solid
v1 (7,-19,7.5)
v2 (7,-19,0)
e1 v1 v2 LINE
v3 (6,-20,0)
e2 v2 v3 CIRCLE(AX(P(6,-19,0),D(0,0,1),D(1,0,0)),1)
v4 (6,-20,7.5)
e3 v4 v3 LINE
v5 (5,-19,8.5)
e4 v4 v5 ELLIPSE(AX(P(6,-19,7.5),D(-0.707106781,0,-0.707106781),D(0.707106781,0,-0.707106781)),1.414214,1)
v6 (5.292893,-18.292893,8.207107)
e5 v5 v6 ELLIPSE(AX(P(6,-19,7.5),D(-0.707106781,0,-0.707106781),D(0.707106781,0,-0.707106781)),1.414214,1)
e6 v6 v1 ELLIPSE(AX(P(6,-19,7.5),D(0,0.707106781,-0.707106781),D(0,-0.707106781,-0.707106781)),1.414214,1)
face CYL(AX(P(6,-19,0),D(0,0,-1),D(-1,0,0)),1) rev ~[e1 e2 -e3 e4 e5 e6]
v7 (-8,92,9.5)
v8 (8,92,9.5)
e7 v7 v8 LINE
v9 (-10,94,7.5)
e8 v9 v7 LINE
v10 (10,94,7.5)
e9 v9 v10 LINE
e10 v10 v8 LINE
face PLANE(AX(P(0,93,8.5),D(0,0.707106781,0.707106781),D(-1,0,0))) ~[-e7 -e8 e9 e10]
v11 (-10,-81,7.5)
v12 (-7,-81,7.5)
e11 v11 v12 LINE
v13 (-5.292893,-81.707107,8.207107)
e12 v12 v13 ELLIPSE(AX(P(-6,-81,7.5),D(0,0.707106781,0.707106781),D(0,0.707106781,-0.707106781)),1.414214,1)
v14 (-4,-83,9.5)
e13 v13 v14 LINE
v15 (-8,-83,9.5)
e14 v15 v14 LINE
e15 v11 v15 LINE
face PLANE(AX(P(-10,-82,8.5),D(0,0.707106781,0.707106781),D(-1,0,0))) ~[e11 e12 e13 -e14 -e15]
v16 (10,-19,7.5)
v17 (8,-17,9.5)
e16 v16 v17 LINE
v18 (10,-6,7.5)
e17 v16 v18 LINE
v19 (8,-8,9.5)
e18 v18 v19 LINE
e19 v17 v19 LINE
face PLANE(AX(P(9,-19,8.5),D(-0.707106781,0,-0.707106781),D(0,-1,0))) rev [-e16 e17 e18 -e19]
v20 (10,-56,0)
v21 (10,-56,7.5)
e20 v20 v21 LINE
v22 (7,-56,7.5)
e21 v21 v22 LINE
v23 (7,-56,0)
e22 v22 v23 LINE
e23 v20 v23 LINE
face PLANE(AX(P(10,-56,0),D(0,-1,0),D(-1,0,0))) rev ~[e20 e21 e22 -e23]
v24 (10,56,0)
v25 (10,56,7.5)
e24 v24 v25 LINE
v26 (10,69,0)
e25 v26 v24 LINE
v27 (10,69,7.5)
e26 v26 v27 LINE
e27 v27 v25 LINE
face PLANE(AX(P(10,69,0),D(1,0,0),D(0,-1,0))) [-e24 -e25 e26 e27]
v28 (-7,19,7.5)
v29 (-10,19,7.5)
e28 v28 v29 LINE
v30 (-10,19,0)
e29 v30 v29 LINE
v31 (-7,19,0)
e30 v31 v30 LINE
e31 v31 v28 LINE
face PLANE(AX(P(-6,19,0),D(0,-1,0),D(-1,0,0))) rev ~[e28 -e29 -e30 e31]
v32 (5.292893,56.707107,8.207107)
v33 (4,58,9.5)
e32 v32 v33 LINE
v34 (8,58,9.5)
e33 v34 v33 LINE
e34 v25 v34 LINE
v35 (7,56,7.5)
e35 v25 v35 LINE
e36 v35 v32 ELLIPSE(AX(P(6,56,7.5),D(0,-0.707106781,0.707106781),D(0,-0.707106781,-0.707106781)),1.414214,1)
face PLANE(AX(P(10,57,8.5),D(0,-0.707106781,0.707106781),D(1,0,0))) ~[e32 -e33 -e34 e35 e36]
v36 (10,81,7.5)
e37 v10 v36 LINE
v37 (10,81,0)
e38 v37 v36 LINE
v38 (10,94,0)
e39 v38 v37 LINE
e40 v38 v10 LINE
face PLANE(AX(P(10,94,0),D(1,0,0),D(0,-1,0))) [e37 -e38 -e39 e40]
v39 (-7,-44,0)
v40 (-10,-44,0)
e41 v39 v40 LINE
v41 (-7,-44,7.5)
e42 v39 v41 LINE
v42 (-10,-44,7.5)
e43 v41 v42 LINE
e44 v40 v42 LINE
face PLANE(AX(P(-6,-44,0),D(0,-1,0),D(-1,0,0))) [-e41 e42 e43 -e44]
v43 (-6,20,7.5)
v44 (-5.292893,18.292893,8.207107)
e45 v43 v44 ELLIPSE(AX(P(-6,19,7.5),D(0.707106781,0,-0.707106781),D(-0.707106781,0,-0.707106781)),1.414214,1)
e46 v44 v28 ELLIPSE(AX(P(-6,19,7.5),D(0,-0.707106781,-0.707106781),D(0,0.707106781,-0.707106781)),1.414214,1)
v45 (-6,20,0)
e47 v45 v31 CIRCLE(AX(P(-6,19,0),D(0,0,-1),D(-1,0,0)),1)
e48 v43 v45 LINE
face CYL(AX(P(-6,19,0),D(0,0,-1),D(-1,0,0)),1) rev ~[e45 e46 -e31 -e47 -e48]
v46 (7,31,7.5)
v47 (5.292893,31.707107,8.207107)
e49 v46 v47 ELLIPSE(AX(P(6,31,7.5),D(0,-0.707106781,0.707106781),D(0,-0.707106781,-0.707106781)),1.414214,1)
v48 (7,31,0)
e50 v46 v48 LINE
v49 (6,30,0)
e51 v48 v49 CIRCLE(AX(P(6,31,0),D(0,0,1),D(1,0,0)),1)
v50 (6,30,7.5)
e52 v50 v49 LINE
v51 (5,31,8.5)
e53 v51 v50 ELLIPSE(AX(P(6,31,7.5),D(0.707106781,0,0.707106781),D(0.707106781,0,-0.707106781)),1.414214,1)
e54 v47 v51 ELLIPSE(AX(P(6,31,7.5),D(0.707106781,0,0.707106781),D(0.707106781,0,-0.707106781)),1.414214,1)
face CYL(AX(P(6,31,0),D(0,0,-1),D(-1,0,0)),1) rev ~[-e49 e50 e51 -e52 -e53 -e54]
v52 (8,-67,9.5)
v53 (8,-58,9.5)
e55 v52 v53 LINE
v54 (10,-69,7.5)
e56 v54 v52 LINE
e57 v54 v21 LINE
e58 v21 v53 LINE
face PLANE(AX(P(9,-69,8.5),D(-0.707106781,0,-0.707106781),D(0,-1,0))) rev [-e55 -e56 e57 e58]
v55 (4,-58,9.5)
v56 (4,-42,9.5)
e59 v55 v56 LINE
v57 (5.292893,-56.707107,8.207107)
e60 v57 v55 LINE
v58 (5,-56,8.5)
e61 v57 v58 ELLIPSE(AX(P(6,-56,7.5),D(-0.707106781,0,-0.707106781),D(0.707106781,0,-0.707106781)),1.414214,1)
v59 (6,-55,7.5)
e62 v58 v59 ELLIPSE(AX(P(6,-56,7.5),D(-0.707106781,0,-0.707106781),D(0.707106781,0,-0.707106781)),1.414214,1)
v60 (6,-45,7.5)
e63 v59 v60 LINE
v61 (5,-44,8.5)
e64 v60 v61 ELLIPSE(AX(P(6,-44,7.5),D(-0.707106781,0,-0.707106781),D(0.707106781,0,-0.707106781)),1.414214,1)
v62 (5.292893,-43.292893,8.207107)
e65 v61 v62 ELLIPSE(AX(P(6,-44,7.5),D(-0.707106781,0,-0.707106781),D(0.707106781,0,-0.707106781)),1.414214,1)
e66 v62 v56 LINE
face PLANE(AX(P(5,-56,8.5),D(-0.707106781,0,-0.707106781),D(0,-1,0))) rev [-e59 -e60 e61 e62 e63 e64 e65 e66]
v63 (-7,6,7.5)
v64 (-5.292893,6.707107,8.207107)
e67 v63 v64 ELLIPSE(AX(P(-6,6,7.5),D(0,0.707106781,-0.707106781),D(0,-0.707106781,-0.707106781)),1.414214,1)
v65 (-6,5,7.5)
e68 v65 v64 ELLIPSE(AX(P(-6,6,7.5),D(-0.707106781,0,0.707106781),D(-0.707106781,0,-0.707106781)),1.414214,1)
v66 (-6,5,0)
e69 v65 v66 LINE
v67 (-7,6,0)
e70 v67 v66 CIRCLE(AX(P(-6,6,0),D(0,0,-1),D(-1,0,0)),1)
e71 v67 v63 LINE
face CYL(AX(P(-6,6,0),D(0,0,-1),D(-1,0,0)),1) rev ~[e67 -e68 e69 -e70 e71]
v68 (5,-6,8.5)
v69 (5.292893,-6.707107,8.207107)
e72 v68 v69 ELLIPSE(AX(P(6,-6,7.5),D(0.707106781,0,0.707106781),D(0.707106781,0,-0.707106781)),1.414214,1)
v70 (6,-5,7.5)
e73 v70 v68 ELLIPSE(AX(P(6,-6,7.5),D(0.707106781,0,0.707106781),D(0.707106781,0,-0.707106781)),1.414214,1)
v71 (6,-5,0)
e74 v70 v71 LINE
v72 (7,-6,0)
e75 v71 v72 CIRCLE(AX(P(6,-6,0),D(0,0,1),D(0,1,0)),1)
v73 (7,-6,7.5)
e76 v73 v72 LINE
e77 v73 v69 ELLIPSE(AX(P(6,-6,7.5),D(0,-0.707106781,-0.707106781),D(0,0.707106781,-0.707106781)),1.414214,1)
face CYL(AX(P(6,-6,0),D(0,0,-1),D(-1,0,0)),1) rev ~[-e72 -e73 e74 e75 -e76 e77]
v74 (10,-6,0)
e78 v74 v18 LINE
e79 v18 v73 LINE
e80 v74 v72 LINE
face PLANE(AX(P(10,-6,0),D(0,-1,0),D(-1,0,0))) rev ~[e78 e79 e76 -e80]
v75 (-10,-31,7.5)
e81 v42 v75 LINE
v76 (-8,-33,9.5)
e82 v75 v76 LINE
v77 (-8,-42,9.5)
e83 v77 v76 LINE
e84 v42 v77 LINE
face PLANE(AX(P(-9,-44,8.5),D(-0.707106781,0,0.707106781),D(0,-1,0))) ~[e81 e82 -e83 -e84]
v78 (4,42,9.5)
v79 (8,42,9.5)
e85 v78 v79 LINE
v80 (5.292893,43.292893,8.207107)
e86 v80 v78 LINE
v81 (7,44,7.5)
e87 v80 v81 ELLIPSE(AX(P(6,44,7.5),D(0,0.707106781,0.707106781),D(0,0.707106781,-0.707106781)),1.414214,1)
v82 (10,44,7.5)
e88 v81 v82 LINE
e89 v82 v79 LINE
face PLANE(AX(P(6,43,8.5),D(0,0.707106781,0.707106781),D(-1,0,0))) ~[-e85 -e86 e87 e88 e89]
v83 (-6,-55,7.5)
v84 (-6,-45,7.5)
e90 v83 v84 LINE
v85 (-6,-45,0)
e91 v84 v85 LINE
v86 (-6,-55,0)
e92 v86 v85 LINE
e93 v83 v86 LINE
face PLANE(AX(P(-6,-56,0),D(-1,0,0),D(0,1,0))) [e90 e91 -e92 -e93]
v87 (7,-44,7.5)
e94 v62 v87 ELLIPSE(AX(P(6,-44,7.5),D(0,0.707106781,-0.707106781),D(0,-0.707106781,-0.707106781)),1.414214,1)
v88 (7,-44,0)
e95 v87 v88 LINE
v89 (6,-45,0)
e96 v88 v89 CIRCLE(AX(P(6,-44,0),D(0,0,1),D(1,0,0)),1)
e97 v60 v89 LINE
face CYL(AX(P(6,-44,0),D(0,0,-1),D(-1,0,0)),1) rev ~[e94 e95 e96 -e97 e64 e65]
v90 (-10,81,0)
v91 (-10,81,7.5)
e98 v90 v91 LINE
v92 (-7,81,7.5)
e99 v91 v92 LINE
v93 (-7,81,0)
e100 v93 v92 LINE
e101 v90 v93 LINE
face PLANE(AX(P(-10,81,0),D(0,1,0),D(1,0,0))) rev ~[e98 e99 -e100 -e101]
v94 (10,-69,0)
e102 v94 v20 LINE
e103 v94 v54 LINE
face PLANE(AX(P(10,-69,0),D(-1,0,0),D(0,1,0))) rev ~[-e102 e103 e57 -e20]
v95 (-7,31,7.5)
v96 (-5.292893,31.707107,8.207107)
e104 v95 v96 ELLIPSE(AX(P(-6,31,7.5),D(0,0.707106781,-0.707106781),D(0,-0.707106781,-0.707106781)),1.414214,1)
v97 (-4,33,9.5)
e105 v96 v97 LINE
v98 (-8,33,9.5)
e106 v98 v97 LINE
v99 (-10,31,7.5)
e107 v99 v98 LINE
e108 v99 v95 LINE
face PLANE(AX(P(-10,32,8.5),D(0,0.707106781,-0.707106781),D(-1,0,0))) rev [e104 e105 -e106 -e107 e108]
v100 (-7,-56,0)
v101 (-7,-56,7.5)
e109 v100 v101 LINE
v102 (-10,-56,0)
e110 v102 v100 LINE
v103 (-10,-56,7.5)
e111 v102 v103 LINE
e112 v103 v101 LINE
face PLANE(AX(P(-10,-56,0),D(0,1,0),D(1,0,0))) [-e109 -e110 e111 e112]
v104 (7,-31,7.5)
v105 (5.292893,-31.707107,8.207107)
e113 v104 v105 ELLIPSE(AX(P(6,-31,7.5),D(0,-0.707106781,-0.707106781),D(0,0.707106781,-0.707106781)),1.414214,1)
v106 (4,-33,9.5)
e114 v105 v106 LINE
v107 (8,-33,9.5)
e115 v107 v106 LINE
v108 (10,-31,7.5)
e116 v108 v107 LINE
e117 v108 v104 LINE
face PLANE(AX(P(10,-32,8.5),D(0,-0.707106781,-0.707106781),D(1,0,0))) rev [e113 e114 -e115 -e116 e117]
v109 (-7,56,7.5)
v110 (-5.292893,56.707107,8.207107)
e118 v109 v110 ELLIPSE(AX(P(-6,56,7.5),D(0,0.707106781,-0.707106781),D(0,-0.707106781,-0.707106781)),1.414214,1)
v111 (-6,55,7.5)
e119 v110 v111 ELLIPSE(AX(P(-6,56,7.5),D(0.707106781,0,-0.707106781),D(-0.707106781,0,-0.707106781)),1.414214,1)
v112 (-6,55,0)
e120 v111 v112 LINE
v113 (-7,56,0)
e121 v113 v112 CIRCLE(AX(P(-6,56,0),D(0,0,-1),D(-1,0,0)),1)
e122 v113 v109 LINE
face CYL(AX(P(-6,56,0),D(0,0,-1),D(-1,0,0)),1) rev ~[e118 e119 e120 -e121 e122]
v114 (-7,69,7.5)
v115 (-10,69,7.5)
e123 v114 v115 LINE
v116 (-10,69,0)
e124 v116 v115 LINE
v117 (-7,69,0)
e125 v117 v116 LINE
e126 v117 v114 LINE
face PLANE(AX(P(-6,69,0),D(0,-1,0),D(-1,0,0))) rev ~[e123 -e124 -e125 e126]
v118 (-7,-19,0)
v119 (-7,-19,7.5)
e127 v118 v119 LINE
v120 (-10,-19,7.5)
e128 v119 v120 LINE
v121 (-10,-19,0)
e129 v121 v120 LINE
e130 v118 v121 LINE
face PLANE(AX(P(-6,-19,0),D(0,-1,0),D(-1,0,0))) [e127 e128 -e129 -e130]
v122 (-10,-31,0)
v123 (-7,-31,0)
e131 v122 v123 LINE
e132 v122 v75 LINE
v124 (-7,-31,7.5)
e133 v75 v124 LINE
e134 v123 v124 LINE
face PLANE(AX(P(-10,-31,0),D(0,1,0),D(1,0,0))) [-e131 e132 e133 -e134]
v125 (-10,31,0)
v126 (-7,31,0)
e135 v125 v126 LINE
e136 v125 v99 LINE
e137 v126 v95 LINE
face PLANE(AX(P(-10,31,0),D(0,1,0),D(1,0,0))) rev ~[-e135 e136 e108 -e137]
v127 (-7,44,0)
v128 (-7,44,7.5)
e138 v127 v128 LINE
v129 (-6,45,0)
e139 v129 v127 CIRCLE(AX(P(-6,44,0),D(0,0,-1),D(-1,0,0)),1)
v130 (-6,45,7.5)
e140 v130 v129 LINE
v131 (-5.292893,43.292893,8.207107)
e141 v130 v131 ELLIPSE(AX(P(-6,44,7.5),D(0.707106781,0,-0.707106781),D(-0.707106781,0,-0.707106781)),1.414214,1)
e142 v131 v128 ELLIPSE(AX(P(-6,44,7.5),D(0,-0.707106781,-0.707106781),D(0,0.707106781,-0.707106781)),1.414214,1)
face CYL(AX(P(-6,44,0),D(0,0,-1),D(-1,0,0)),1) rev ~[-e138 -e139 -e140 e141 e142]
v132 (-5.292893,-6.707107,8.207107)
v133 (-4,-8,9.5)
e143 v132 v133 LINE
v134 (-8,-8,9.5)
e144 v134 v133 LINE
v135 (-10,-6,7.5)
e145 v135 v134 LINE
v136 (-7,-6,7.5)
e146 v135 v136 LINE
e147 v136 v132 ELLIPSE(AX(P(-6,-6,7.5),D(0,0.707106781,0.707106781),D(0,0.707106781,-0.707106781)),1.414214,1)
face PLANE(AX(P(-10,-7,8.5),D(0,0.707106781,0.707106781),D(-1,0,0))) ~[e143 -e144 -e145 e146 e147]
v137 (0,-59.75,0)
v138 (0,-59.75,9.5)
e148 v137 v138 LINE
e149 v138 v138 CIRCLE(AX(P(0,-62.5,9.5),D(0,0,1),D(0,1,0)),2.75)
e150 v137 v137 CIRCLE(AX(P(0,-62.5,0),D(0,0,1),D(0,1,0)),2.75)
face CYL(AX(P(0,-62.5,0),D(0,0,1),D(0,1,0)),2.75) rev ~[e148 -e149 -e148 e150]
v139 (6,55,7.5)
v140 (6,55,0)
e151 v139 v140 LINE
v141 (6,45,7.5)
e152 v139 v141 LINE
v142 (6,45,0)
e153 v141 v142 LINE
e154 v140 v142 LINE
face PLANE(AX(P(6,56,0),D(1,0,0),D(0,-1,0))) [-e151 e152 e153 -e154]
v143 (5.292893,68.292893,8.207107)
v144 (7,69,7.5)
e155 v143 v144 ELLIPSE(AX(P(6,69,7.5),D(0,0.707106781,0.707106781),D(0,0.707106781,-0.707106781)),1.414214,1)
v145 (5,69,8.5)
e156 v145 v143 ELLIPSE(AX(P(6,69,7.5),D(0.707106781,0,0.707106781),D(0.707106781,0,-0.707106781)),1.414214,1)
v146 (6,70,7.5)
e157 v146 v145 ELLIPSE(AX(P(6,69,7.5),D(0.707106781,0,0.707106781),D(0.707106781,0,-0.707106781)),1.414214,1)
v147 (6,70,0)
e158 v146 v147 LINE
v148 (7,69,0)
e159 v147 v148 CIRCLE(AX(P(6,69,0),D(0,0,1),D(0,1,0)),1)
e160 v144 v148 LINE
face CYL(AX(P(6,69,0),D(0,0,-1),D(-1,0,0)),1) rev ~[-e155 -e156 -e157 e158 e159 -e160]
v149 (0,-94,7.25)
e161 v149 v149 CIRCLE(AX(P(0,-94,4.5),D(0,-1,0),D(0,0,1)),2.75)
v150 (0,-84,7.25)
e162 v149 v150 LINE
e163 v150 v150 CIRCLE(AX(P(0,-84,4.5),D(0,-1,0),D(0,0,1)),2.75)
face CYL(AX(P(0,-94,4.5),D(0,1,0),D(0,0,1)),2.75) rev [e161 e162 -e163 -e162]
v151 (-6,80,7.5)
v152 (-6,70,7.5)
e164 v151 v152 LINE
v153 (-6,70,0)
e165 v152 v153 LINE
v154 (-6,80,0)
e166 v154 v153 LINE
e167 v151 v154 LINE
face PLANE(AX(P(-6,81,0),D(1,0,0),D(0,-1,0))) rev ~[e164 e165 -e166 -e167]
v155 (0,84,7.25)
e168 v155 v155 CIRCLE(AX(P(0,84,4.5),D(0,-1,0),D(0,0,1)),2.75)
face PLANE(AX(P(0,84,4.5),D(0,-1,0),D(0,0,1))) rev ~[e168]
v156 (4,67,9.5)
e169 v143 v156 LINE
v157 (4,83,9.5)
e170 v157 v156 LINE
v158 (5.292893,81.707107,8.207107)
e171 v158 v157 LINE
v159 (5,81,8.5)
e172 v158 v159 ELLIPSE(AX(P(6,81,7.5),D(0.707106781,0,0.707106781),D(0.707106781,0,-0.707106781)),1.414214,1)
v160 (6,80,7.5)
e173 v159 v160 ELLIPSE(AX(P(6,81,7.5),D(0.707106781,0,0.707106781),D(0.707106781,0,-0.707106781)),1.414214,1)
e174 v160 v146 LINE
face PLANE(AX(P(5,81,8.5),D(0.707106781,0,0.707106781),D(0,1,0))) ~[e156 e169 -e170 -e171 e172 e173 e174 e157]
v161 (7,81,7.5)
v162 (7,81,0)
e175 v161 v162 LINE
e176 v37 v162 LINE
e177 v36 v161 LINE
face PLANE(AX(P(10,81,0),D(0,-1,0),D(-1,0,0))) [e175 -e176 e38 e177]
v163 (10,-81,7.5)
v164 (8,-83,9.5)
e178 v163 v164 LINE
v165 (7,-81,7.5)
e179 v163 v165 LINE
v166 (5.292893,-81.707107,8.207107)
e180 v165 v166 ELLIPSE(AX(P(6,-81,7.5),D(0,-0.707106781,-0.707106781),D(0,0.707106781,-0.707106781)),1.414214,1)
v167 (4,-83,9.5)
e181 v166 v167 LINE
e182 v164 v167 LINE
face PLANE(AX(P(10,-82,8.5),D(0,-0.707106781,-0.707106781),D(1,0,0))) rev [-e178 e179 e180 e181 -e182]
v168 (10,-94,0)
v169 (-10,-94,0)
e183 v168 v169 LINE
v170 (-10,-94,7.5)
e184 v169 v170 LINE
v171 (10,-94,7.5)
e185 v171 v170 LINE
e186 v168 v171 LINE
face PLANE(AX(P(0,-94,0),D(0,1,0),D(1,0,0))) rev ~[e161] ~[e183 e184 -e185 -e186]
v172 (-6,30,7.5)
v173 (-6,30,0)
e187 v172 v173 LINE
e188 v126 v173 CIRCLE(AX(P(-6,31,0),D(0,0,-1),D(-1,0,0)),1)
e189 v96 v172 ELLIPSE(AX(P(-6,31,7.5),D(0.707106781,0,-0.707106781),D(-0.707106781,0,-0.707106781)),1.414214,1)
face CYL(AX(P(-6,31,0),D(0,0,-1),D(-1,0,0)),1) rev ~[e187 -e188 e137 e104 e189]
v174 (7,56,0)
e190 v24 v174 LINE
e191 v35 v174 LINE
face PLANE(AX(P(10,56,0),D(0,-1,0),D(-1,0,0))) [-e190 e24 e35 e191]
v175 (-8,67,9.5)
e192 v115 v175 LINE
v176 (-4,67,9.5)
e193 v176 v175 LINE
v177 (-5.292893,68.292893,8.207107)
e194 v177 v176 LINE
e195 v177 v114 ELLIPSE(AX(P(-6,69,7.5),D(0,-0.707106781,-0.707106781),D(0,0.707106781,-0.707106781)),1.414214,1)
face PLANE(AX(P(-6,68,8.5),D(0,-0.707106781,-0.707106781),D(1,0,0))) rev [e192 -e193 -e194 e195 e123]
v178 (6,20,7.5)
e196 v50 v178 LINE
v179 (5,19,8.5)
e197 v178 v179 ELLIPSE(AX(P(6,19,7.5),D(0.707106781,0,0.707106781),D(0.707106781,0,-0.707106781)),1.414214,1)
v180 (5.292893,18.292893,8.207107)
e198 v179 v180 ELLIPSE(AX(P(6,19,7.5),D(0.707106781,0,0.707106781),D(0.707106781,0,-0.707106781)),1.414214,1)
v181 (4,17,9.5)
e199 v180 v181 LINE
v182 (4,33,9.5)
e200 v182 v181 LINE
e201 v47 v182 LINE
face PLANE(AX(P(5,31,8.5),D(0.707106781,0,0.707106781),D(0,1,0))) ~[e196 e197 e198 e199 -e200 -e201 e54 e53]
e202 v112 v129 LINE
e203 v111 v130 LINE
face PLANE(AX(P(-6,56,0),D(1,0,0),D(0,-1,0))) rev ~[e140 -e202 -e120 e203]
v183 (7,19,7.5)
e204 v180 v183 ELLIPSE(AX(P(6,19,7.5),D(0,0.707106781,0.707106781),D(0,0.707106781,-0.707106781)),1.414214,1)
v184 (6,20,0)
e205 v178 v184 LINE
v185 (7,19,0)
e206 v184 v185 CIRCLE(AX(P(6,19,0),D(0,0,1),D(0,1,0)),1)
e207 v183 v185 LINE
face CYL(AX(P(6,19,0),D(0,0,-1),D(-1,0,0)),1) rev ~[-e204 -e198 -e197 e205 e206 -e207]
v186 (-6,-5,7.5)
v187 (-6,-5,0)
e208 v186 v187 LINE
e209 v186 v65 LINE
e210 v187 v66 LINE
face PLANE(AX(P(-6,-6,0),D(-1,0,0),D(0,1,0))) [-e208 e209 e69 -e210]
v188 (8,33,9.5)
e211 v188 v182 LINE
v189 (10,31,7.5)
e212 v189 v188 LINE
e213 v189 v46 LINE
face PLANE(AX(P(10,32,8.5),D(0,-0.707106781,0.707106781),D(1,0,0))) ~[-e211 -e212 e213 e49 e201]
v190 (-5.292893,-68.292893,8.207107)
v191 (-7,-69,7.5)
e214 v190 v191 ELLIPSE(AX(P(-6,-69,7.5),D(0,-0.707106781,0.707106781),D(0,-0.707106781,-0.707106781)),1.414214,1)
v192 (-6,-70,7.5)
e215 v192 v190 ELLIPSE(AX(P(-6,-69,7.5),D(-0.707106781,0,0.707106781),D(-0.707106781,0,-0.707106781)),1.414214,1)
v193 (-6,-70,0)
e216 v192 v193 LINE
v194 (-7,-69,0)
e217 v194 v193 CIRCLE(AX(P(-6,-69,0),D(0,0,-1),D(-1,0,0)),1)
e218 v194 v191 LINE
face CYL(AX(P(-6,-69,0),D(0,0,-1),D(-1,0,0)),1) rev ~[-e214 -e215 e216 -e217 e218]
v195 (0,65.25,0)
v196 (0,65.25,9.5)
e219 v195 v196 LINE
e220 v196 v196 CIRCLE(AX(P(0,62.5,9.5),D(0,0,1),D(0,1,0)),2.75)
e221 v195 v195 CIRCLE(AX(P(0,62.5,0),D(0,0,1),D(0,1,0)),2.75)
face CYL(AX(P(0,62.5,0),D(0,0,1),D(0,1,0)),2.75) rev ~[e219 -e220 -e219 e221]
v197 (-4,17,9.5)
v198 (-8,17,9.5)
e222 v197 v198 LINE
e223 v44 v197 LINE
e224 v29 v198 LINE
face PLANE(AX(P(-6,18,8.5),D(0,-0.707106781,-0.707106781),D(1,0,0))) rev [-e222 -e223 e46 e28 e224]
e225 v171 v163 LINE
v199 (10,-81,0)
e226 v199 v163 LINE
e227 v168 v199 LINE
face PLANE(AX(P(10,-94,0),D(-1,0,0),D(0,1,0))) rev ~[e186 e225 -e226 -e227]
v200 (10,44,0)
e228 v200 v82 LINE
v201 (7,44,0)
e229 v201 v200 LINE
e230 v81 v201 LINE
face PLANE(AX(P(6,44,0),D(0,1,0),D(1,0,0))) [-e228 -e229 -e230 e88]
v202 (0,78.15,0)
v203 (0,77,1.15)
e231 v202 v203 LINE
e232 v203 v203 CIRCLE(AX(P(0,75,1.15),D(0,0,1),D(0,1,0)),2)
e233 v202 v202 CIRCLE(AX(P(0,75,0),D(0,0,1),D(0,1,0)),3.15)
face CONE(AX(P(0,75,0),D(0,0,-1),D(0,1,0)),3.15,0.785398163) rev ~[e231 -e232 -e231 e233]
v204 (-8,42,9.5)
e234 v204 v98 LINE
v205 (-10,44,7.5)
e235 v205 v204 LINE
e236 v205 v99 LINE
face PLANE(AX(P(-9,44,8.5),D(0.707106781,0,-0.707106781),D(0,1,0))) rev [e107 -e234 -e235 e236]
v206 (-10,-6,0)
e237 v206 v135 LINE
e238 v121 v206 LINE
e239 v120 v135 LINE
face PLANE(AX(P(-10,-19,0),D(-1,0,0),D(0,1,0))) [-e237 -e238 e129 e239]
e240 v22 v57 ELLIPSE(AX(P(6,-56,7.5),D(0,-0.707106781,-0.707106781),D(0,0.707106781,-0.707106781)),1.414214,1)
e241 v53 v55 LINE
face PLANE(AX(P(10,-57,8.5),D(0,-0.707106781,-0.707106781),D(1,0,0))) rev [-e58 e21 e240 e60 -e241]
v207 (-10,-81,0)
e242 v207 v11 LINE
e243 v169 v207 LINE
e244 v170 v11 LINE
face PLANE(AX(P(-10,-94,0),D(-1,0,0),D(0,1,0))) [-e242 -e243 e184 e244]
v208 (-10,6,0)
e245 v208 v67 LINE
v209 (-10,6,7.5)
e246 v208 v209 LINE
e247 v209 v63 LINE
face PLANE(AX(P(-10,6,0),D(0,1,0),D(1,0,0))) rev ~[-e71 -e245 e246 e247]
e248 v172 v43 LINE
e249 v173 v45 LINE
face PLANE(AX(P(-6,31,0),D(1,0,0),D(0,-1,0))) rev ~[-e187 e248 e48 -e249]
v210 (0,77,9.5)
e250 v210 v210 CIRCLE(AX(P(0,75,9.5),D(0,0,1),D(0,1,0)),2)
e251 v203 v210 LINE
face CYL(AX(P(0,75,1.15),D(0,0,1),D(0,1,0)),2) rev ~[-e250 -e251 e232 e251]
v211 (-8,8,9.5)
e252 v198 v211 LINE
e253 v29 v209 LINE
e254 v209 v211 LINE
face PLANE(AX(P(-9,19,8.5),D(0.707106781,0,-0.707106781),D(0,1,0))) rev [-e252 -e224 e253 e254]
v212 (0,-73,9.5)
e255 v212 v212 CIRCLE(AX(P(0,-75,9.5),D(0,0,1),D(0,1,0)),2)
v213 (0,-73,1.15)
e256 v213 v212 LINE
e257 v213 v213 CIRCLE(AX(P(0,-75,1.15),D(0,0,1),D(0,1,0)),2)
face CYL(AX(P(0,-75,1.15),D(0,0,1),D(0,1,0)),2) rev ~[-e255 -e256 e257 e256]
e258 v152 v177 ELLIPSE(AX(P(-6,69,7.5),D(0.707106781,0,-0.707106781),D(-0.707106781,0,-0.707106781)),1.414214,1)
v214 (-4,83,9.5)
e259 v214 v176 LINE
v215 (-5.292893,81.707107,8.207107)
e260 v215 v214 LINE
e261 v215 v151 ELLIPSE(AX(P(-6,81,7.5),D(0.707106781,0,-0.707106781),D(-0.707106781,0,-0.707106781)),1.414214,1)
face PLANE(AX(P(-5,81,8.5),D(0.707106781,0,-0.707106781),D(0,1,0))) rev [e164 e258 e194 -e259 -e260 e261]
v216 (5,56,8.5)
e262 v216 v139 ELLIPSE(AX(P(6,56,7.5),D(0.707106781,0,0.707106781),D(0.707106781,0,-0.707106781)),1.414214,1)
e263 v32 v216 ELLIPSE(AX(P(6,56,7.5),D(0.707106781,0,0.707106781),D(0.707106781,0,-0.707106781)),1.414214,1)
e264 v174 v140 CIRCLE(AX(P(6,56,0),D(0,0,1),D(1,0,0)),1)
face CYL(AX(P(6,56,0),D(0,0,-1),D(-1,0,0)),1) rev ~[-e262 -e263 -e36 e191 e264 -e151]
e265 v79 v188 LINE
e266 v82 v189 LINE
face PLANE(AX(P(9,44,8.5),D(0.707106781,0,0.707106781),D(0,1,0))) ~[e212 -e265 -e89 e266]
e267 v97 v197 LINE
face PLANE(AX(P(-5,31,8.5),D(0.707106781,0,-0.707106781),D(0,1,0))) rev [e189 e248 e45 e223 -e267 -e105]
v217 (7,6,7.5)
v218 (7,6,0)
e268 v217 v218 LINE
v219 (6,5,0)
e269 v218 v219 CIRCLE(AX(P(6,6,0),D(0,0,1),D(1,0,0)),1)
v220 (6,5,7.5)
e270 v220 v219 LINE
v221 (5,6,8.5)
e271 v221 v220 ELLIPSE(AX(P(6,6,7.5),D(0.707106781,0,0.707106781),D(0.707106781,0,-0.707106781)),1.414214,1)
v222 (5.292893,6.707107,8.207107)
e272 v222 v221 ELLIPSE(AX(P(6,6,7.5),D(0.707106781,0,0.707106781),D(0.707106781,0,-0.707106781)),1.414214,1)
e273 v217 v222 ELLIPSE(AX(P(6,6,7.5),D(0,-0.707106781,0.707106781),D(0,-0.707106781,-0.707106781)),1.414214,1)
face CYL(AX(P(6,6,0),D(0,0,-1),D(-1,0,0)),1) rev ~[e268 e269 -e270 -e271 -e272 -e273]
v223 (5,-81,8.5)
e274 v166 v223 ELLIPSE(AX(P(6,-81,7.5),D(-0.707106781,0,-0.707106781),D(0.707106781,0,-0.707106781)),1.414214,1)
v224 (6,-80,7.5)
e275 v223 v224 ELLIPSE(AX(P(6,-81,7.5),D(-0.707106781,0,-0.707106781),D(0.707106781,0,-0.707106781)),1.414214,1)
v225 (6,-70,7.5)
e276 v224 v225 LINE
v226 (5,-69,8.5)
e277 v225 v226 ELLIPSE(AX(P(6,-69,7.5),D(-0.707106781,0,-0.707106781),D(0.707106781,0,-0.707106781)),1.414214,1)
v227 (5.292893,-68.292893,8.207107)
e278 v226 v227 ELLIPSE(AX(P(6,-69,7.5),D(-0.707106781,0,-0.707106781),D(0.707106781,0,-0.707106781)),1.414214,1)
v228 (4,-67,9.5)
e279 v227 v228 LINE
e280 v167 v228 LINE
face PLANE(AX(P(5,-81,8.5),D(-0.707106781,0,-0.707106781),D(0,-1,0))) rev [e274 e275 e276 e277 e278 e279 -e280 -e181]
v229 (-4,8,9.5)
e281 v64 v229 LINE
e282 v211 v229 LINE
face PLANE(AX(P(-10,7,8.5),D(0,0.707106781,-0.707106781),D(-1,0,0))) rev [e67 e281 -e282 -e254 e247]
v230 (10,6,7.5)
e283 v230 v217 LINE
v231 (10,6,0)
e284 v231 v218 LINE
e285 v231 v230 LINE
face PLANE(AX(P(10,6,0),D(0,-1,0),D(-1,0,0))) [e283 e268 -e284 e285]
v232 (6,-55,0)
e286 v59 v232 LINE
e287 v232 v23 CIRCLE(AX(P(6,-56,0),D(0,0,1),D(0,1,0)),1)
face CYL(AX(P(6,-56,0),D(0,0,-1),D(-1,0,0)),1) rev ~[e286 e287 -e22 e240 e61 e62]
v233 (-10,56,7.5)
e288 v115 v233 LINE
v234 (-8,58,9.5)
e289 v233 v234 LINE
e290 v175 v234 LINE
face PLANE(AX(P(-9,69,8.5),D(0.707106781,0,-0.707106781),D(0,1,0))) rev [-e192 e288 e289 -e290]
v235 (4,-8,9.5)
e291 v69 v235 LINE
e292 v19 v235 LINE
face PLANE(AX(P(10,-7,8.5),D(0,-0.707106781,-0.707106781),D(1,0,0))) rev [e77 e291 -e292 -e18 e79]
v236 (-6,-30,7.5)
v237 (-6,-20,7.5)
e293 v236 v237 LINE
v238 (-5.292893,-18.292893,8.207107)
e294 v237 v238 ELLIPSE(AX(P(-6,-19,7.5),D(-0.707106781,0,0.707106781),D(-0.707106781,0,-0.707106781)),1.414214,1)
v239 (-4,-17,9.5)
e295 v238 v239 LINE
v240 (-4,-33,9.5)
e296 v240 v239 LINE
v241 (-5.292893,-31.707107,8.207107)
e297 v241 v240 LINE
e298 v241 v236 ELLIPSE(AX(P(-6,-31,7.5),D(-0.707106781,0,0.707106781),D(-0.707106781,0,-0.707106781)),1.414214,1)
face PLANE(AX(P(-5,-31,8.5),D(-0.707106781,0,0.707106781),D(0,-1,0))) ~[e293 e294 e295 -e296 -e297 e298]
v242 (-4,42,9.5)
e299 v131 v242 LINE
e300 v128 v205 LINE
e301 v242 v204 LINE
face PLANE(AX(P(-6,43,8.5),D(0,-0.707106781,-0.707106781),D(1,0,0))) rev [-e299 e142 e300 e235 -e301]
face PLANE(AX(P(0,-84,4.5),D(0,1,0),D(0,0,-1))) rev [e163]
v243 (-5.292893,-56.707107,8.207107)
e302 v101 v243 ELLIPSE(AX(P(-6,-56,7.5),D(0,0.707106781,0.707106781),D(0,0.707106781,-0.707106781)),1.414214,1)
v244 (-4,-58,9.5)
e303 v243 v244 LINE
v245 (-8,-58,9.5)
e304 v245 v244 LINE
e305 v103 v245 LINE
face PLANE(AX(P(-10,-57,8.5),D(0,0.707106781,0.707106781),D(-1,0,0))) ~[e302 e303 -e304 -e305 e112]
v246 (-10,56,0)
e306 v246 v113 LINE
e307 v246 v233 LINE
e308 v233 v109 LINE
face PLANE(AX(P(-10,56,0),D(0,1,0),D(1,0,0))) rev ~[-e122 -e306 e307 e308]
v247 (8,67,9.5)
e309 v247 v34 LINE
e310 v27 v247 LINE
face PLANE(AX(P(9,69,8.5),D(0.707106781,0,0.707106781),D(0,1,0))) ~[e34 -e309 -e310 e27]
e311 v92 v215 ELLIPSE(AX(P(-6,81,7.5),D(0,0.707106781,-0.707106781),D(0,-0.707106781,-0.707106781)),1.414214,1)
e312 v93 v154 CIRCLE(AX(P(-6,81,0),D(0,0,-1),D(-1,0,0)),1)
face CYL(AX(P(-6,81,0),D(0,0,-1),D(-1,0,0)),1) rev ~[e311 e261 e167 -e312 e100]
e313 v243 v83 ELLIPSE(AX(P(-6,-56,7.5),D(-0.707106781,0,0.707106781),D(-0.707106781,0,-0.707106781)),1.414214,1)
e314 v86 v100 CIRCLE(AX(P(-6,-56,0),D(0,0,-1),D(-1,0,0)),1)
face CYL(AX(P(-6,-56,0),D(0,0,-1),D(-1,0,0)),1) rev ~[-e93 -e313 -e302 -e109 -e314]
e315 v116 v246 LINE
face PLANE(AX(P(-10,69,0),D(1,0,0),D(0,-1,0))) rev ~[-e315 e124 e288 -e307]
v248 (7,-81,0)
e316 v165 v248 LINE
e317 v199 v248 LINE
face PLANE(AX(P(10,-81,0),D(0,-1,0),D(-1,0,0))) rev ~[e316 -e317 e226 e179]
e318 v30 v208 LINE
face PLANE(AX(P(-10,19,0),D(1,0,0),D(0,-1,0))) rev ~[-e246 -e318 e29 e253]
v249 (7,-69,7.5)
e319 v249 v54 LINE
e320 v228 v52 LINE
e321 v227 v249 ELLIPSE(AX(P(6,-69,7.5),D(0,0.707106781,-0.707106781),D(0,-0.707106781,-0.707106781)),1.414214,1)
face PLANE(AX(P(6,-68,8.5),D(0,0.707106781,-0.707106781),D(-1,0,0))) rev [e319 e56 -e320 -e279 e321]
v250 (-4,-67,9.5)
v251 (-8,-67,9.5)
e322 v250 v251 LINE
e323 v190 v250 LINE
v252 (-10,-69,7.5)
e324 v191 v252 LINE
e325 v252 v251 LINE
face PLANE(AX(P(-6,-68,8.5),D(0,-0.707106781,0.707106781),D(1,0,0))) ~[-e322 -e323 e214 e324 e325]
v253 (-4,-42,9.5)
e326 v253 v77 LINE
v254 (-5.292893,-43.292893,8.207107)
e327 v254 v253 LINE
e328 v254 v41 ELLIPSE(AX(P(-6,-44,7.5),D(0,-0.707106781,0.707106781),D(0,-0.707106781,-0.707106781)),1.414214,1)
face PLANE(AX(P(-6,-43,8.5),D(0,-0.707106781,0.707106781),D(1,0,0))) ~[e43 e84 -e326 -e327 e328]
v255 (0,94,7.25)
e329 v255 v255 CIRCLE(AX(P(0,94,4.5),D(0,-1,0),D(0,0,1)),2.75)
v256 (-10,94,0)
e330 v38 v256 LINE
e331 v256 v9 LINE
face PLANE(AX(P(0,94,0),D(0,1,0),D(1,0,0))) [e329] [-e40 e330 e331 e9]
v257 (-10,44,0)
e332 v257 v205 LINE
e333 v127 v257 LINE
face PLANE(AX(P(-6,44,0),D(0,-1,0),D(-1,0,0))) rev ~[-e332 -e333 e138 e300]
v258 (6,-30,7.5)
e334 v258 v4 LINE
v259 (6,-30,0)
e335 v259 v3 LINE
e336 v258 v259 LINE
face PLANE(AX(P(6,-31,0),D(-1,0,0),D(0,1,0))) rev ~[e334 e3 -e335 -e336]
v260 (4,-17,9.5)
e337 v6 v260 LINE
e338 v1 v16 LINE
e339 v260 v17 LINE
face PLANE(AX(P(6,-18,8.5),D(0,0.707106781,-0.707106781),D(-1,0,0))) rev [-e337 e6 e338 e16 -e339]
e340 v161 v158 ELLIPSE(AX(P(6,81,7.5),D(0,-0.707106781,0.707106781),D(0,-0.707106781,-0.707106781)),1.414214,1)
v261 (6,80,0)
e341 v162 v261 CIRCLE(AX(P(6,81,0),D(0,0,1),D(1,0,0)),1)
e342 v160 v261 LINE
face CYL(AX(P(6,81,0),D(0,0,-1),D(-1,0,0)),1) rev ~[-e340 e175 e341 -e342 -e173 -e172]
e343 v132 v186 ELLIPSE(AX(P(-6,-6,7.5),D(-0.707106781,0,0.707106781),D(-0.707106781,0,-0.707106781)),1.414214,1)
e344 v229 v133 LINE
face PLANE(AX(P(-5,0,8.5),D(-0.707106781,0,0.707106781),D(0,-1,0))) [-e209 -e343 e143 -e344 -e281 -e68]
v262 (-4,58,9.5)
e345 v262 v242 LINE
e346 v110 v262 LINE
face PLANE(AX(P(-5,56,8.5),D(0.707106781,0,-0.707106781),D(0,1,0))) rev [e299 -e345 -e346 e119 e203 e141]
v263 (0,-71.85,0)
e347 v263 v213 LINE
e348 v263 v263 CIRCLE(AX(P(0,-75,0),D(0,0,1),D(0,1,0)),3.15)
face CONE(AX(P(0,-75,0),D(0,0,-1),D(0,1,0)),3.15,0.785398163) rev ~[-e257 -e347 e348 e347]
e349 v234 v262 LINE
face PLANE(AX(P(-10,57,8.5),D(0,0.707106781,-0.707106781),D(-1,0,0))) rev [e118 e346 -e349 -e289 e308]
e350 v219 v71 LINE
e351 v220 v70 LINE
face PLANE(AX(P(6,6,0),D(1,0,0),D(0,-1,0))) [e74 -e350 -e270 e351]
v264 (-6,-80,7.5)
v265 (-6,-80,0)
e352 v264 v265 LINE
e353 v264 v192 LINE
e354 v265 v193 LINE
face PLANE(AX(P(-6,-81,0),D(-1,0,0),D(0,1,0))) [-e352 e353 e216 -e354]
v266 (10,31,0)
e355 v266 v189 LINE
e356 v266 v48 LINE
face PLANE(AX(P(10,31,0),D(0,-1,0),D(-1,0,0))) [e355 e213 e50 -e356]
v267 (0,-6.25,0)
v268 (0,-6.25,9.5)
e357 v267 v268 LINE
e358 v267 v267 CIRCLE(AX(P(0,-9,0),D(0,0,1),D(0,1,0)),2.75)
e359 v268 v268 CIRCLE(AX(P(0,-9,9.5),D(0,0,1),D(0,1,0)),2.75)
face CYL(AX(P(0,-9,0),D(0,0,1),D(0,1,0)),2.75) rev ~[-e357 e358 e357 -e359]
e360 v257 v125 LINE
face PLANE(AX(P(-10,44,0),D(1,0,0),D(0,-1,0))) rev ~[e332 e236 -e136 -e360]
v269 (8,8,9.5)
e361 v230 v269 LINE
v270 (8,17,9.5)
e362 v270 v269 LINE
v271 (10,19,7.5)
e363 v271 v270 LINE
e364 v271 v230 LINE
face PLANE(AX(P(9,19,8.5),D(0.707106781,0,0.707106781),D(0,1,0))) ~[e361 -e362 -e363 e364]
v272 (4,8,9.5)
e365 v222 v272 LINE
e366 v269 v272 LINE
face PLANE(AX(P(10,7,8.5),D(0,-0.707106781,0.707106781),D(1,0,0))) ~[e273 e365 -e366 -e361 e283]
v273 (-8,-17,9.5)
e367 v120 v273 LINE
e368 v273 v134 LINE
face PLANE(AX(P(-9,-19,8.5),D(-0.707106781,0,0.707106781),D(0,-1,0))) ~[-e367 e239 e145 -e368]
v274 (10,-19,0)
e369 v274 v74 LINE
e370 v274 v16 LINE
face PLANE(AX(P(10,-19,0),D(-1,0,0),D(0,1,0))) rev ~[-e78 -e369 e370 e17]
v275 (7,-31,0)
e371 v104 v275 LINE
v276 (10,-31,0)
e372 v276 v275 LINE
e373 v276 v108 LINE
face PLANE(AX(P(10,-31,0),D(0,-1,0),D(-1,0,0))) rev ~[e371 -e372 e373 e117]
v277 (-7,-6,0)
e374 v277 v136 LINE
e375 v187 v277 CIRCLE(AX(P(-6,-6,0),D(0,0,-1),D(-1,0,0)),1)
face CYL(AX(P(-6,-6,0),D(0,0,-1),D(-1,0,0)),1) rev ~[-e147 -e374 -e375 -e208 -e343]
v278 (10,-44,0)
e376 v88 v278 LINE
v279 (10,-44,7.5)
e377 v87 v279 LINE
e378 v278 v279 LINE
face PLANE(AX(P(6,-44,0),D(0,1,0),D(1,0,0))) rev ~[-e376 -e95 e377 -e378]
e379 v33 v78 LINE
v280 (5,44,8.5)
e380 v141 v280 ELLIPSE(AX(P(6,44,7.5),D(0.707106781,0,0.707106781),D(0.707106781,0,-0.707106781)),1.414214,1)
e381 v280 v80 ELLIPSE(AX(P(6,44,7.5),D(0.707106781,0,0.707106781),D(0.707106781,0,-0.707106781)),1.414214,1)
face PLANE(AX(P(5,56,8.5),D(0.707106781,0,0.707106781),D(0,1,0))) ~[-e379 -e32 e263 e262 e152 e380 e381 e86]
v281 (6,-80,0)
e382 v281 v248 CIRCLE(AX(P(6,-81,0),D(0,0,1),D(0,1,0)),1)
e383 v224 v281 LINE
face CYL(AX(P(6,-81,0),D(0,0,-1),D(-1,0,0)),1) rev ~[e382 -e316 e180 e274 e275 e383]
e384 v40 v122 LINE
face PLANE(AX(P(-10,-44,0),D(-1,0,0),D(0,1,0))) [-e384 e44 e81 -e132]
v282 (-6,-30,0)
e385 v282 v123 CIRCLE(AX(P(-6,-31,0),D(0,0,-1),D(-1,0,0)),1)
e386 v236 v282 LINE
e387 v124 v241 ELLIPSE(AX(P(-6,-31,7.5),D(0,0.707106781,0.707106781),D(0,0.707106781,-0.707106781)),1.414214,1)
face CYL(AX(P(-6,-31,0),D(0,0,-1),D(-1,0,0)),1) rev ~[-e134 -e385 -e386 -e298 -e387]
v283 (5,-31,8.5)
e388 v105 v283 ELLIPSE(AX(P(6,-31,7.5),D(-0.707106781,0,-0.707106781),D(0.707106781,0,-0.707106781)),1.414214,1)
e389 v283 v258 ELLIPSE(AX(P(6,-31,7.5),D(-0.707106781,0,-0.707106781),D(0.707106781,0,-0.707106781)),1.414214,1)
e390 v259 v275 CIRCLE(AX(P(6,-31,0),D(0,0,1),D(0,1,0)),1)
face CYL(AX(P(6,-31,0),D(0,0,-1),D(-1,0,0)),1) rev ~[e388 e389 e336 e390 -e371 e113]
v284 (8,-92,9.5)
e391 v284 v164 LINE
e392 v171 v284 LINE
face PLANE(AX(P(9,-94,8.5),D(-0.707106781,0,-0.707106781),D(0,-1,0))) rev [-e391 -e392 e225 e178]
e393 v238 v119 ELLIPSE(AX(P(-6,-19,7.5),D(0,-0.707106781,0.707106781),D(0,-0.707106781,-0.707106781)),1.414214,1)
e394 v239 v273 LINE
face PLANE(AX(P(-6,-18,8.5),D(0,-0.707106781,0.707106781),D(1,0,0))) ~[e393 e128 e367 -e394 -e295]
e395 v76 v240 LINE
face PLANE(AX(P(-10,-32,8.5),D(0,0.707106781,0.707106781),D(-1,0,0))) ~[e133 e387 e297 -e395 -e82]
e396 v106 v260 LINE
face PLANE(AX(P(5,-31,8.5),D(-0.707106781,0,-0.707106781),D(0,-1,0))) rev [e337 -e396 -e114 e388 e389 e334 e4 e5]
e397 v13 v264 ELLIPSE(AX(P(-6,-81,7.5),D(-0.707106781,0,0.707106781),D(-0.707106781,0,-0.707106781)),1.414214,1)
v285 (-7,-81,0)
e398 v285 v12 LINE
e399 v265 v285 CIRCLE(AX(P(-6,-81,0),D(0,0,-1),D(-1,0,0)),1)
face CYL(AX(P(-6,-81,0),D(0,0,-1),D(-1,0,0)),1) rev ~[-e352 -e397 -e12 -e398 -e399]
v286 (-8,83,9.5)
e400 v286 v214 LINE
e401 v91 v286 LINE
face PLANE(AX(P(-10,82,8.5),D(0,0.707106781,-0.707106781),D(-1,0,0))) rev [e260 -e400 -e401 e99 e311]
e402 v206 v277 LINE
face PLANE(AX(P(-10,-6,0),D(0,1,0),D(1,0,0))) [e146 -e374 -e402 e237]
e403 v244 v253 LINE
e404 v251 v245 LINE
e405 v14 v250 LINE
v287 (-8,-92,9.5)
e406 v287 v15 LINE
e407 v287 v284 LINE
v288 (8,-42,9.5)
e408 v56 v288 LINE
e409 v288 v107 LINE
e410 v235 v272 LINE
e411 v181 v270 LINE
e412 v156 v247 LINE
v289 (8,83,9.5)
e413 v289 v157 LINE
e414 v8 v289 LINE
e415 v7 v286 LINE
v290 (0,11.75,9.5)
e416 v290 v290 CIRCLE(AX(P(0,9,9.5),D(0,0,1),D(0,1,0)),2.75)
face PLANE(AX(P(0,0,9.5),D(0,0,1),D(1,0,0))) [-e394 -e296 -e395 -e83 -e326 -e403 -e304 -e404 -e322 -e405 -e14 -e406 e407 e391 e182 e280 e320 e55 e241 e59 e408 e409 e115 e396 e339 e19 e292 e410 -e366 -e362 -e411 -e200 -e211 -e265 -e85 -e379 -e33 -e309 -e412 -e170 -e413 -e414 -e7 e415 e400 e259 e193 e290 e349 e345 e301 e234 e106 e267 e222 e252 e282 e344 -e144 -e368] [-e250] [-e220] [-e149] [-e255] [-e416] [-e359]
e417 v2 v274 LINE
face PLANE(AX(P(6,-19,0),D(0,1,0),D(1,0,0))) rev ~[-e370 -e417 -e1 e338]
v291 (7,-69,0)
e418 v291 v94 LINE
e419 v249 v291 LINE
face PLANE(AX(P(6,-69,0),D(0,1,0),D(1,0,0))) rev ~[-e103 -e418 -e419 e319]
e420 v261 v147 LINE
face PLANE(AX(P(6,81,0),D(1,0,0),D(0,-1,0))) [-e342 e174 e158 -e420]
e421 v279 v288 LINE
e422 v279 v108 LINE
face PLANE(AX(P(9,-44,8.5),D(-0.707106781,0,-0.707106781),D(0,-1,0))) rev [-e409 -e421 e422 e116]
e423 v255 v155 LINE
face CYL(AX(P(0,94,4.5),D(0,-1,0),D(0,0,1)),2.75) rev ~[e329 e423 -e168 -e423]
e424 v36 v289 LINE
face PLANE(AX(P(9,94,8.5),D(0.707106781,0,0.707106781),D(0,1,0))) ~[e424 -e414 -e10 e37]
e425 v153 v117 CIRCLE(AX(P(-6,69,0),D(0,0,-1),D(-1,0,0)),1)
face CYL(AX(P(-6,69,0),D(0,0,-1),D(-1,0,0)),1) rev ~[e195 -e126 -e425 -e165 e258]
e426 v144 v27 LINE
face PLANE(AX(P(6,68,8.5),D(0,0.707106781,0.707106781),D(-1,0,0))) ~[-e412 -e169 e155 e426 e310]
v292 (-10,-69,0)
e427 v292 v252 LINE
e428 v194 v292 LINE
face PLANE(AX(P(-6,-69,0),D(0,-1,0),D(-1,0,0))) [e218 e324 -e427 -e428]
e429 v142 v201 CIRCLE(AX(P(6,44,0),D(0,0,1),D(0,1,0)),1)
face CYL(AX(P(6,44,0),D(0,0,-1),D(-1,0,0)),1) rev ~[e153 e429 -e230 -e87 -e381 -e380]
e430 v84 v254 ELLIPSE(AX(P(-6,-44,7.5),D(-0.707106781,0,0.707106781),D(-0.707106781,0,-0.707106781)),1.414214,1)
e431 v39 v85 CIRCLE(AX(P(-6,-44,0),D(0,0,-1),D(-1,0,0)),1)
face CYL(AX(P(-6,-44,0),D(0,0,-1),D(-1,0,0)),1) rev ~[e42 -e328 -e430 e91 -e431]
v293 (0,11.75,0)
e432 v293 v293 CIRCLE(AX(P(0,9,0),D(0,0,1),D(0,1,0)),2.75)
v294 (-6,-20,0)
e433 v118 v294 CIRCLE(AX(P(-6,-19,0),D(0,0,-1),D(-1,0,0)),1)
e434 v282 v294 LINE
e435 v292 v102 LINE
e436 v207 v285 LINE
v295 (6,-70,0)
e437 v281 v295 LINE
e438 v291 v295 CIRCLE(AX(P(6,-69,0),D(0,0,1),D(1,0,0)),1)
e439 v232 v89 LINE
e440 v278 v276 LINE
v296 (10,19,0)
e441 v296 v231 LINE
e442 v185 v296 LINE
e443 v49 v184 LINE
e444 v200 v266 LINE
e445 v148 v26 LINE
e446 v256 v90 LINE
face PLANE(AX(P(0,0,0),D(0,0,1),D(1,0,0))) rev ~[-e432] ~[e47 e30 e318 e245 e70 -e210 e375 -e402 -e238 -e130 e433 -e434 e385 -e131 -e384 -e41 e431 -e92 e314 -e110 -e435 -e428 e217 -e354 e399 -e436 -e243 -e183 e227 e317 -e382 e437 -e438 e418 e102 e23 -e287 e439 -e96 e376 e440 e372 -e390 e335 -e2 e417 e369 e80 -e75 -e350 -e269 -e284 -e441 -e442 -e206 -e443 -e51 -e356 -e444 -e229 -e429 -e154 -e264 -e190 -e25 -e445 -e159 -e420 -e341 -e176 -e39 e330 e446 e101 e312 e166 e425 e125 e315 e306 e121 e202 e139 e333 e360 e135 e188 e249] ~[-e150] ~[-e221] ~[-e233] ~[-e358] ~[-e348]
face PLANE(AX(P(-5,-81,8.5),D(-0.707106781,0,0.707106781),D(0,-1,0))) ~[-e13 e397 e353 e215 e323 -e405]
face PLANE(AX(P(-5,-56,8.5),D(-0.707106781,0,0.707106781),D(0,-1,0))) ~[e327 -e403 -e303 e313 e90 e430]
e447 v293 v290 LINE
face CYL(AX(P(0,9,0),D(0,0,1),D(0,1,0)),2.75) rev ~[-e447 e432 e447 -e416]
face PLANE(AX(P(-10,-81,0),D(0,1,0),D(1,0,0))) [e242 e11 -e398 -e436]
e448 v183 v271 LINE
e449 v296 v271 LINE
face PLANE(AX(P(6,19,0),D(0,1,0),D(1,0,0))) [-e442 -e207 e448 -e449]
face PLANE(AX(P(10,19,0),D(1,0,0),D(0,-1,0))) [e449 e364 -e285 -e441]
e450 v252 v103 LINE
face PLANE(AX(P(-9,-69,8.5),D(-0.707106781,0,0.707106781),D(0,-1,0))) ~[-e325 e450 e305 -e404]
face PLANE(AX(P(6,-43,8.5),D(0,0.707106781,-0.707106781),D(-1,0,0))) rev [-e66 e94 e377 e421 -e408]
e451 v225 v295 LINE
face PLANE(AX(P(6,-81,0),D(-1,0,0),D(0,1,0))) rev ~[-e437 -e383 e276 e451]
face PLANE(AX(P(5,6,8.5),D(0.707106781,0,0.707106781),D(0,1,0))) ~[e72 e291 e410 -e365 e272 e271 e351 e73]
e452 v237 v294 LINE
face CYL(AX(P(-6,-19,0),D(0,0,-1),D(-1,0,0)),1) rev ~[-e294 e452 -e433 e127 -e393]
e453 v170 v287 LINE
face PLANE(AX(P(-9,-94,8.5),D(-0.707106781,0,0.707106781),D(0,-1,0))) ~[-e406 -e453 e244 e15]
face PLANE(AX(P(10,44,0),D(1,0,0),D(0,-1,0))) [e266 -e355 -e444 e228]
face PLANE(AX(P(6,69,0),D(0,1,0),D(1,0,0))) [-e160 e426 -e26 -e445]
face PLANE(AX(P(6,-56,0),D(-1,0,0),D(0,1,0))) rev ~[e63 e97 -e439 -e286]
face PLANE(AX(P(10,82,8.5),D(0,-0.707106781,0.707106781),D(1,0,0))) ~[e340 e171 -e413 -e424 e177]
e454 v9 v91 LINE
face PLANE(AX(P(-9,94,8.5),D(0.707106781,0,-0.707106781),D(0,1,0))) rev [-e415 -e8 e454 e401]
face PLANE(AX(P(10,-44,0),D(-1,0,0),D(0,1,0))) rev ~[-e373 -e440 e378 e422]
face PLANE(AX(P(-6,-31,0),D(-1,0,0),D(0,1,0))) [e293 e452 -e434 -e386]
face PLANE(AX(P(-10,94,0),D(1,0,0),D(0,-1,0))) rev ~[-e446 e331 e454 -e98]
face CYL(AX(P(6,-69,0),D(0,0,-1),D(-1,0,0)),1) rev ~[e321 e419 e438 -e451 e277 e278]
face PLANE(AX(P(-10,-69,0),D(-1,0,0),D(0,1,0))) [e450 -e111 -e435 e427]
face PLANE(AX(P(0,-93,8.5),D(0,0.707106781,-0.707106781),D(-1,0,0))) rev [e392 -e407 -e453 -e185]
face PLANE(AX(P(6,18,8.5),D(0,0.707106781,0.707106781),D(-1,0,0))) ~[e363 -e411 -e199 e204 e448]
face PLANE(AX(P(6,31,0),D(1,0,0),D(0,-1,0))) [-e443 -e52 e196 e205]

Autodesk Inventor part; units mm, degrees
ref_plane "YZ Plane" through (0, 0, 0) normal (1, 0, 0) x (0, 1, 0)
ref_plane "XZ Plane" through (0, 0, 0) normal (0, 1, 0) x (-1, 0, 0)
ref_plane "XY Plane" through (0, 0, 0) normal (0, 0, 1) x (1, 0, 0)
sketch "Sketch1" plane through (0, 0, 0) normal (0, 0, 1) x (1, 0, 0)
  line L0 (0, 94) -> (10, 94)
  line L1 (10, 94) -> (10, 81)
  line L2 (10, 81) -> (6, 81)
  line L3 (6, 81) -> (6, 69)
  line L4 (6, 69) -> (10, 69)
  line L5 (10, 69) -> (10, 56)
  line L6 (10, 56) -> (6, 56)
  line L7 (6, 56) -> (6, 44)
  line L8 (6, 44) -> (10, 44)
  line L9 (10, 44) -> (10, 31)
  line L10 (10, 31) -> (6, 31)
  line L11 (6, 31) -> (6, 19)
  line L12 (6, 19) -> (10, 19)
  line L13 (10, 19) -> (10, 6)
  line L14 (10, 6) -> (6, 6)
  line L15 (6, 6) -> (6, 0)
  line L16 (0, 0) -> (0, 65.9305) construction
  line L17 (0, 0) -> (38.6364, 0) construction
  line L18 (0, 94) -> (-10, 94)
  line L19 (-10, 94) -> (-10, 81)
  line L20 (-10, 81) -> (-6, 81)
  line L21 (-6, 81) -> (-6, 69)
  line L22 (-6, 69) -> (-10, 69)
  line L23 (-10, 69) -> (-10, 56)
  line L24 (-10, 56) -> (-6, 56)
  line L25 (-6, 56) -> (-6, 44)
  line L26 (-6, 44) -> (-10, 44)
  line L27 (-10, 44) -> (-10, 31)
  line L28 (-10, 31) -> (-6, 31)
  line L29 (-6, 31) -> (-6, 19)
  line L30 (-6, 19) -> (-10, 19)
  line L31 (-10, 19) -> (-10, 6)
  line L32 (-10, 6) -> (-6, 6)
  line L33 (-6, 6) -> (-6, 0)
  line L34 (0, 0) -> (-38.6364, 0) construction
  line L35 (0, -94) -> (10, -94)
  line L36 (10, -94) -> (10, -81)
  line L37 (10, -81) -> (6, -81)
  line L38 (6, -81) -> (6, -69)
  line L39 (6, -69) -> (10, -69)
  line L40 (10, -69) -> (10, -56)
  line L41 (10, -56) -> (6, -56)
  line L42 (6, -56) -> (6, -44)
  line L43 (6, -44) -> (10, -44)
  line L44 (10, -44) -> (10, -31)
  line L45 (10, -31) -> (6, -31)
  line L46 (6, -31) -> (6, -19)
  line L47 (6, -19) -> (10, -19)
  line L48 (10, -19) -> (10, -6)
  line L49 (10, -6) -> (6, -6)
  line L50 (6, -6) -> (6, 0)
  line L51 (0, 0) -> (0, -65.9305) construction
  line L52 (0, -94) -> (-10, -94)
  line L53 (-10, -94) -> (-10, -81)
  line L54 (-6, -69) -> (-10, -69)
  line L55 (-10, -81) -> (-6, -81)
  line L56 (-6, -81) -> (-6, -69)
  line L57 (-10, -69) -> (-10, -56)
  line L58 (-10, -56) -> (-6, -56)
  line L59 (-6, -56) -> (-6, -44)
  line L60 (-6, -44) -> (-10, -44)
  line L61 (-10, -44) -> (-10, -31)
  line L62 (-10, -31) -> (-6, -31)
  line L63 (-6, -31) -> (-6, -19)
  line L64 (-6, -19) -> (-10, -19)
  line L65 (-10, -19) -> (-10, -6)
  line L66 (-10, -6) -> (-6, -6)
  line L67 (-6, -6) -> (-6, 0)
  point P0 (6, 75)
  point P1 (5, 94)
  point P2 (-6, 75)
  point P3 (-5, 94)
  point P4 (6, -75)
  point P5 (5, -94)
  point P6 (-6, -75)
  point P7 (-5, -94)
  dimension "d0" = 10
  dimension "d1" = 13
  dimension "d2" = 12
  dimension "d3" = 6
  dimension "d4" = 6
extrude "Extrusion1" add sketch "Sketch1" along normal blind 9.5
chamfer "Chamfer1" distance 2 angle 45 60 edges at (-10, 87.5, 9.5) (10, 87.5, 9.5) (-8, 81, 9.5) (8, 81, 9.5) (6, 75, 9.5) (-6, 75, 9.5) (-8, 69, 9.5) (-10, 62.5, 9.5) (8, 69, 9.5) (10, 62.5, 9.5) (8, 56, 9.5) (-8, 56, 9.5) (6, 50, 9.5) (-6, 50, 9.5) (-8, 44, 9.5) (8, 44, 9.5) (10, 37.5, 9.5) (-10, 37.5, 9.5) (-8, 31, 9.5) (8, 31, 9.5) (6, 25, 9.5) (-6, 25, 9.5) (-8, 19, 9.5) (8, 19, 9.5) (10, 12.5, 9.5) (-10, 12.5, 9.5) (8, 6, 9.5) (-8, 6, 9.5) (-6, 3, 9.5) (6, 3, 9.5) (8, -6, 9.5) (-8, -6, 9.5) (-10, -12.5, 9.5) (10, -12.5, 9.5) (8, -19, 9.5) (-8, -19, 9.5) (-6, -25, 9.5) (6, -25, 9.5) (8, -31, 9.5) (-8, -31, 9.5) (-10, -37.5, 9.5) (10, -37.5, 9.5) (-8, -44, 9.5) (8, -44, 9.5) (6, -50, 9.5) (-6, -50, 9.5) (-8, -56, 9.5) (8, -56, 9.5) (10, -62.5, 9.5) (-10, -62.5, 9.5) (8, -69, 9.5) (-8, -69, 9.5) (-6, -75, 9.5) (6, -75, 9.5) (8, -81, 9.5) (-8, -81, 9.5) (-10, -87.5, 9.5) (10, -87.5, 9.5) (5, -94, 9.5) (5, 94, 9.5)
sketch "Sketch2" plane through (-10, 94, 0) normal (0, 1, 0) x (1, 0, 0)
  line L0 (20, 0) -> (0, 0) projected
  line L1 (10, 0) -> (10, -4.5) construction
  line L2 (2, -9.5) -> (18, -9.5) projected
  dimension "d19" = 5
hole "Hole1" at (0, 94, 4.5) direction (0, -1, 0) diameter 5.5 depth 10 clearance for "Socket Head Cap Screw DIN EN ISO 4762" size "M5" standard "DIN"
mirror "Mirror1" about plane through (0, 0, 0) normal (0, 1, 0) of "Hole1"
sketch "Sketch3" plane through (0, 0, 0) normal (0, 0, -1) x (-1, 0, 0)
  line L0 (-10, 94) -> (10, 94) projected
  line L1 (10, -94) -> (-10, -94) projected
  point P0 (0, 75)
  point P1 (0, -75)
  point P2 (0, -94)
  point P3 (0, 94)
  dimension "d92" = 19
  dimension "d93" = 19
hole "Hole2" at (0, 75, 0) at (0, -75, 0) direction (0, 0, 1) diameter 4 end through all countersink diameter 6.3 countersink angle 90
sketch "Sketch4" plane through (0, 0, 0) normal (0, 0, -1) x (-1, 0, 0)
  line L0 (0, 0) -> (0, -9) construction
  line L1 (15.0532, 0) -> (-13.6223, 0) construction
  line L2 (10, -6) -> (10, -19) projected
  line L3 (10, -56) -> (10, -69) projected
  point P0 (0, -62.5)
  point P1 (0, 9)
  point P2 (0, 62.5)
  point P3 (10, -12.5)
  point P4 (10, -62.5)
  dimension "d83" = 0
  dimension "d91" = 9
hole "Hole3" at (0, -9, 0) at (0, -62.5, 0) at (0, 9, 0) at (0, 62.5, 0) direction (0, 0, 1) diameter 5.5 end through all clearance for "Slotted Cheese Head Screw DIN 84" size "M5" standard "DIN"
sketch "Sketch6" plane through (0, 0, 0) normal (0, 0, -1) x (-1, 0, 0)
  circle A0 centre (6, 6) radius 1
  line L0 (0, 0) -> (11.6098, 0) construction
  line L1 (0, 0) -> (0, -13.3331) construction
  circle A1 centre (6, 19) radius 1
  circle A2 centre (6, 31) radius 1
  circle A3 centre (6, 44) radius 1
  circle A4 centre (6, 56) radius 1
  circle A5 centre (6, 69) radius 1
  circle A6 centre (6, 81) radius 1
  circle A7 centre (6, -6) radius 1
  circle A8 centre (6, -19) radius 1
  circle A9 centre (6, -31) radius 1
  circle A10 centre (6, -44) radius 1
  circle A11 centre (6, -56) radius 1
  circle A12 centre (6, -69) radius 1
  circle A13 centre (6, -81) radius 1
  circle A14 centre (-6, 6) radius 1
  circle A15 centre (-6, 19) radius 1
  circle A16 centre (-6, 31) radius 1
  circle A17 centre (-6, 44) radius 1
  circle A18 centre (-6, 56) radius 1
  circle A19 centre (-6, 69) radius 1
  circle A20 centre (-6, 81) radius 1
  circle A21 centre (-6, -6) radius 1
  circle A22 centre (-6, -19) radius 1
  circle A23 centre (-6, -31) radius 1
  circle A24 centre (-6, -44) radius 1
  circle A25 centre (-6, -56) radius 1
  circle A26 centre (-6, -69) radius 1
  circle A27 centre (-6, -81) radius 1
  point P0 (4, 67)
  dimension "d64" = 2
extrude "Extrusion2" cut sketch "Sketch6" against normal through all
equation "\"d1\" = r_space"
equation "\"r_space\" = 13"
properties part number "Locating_bar"
